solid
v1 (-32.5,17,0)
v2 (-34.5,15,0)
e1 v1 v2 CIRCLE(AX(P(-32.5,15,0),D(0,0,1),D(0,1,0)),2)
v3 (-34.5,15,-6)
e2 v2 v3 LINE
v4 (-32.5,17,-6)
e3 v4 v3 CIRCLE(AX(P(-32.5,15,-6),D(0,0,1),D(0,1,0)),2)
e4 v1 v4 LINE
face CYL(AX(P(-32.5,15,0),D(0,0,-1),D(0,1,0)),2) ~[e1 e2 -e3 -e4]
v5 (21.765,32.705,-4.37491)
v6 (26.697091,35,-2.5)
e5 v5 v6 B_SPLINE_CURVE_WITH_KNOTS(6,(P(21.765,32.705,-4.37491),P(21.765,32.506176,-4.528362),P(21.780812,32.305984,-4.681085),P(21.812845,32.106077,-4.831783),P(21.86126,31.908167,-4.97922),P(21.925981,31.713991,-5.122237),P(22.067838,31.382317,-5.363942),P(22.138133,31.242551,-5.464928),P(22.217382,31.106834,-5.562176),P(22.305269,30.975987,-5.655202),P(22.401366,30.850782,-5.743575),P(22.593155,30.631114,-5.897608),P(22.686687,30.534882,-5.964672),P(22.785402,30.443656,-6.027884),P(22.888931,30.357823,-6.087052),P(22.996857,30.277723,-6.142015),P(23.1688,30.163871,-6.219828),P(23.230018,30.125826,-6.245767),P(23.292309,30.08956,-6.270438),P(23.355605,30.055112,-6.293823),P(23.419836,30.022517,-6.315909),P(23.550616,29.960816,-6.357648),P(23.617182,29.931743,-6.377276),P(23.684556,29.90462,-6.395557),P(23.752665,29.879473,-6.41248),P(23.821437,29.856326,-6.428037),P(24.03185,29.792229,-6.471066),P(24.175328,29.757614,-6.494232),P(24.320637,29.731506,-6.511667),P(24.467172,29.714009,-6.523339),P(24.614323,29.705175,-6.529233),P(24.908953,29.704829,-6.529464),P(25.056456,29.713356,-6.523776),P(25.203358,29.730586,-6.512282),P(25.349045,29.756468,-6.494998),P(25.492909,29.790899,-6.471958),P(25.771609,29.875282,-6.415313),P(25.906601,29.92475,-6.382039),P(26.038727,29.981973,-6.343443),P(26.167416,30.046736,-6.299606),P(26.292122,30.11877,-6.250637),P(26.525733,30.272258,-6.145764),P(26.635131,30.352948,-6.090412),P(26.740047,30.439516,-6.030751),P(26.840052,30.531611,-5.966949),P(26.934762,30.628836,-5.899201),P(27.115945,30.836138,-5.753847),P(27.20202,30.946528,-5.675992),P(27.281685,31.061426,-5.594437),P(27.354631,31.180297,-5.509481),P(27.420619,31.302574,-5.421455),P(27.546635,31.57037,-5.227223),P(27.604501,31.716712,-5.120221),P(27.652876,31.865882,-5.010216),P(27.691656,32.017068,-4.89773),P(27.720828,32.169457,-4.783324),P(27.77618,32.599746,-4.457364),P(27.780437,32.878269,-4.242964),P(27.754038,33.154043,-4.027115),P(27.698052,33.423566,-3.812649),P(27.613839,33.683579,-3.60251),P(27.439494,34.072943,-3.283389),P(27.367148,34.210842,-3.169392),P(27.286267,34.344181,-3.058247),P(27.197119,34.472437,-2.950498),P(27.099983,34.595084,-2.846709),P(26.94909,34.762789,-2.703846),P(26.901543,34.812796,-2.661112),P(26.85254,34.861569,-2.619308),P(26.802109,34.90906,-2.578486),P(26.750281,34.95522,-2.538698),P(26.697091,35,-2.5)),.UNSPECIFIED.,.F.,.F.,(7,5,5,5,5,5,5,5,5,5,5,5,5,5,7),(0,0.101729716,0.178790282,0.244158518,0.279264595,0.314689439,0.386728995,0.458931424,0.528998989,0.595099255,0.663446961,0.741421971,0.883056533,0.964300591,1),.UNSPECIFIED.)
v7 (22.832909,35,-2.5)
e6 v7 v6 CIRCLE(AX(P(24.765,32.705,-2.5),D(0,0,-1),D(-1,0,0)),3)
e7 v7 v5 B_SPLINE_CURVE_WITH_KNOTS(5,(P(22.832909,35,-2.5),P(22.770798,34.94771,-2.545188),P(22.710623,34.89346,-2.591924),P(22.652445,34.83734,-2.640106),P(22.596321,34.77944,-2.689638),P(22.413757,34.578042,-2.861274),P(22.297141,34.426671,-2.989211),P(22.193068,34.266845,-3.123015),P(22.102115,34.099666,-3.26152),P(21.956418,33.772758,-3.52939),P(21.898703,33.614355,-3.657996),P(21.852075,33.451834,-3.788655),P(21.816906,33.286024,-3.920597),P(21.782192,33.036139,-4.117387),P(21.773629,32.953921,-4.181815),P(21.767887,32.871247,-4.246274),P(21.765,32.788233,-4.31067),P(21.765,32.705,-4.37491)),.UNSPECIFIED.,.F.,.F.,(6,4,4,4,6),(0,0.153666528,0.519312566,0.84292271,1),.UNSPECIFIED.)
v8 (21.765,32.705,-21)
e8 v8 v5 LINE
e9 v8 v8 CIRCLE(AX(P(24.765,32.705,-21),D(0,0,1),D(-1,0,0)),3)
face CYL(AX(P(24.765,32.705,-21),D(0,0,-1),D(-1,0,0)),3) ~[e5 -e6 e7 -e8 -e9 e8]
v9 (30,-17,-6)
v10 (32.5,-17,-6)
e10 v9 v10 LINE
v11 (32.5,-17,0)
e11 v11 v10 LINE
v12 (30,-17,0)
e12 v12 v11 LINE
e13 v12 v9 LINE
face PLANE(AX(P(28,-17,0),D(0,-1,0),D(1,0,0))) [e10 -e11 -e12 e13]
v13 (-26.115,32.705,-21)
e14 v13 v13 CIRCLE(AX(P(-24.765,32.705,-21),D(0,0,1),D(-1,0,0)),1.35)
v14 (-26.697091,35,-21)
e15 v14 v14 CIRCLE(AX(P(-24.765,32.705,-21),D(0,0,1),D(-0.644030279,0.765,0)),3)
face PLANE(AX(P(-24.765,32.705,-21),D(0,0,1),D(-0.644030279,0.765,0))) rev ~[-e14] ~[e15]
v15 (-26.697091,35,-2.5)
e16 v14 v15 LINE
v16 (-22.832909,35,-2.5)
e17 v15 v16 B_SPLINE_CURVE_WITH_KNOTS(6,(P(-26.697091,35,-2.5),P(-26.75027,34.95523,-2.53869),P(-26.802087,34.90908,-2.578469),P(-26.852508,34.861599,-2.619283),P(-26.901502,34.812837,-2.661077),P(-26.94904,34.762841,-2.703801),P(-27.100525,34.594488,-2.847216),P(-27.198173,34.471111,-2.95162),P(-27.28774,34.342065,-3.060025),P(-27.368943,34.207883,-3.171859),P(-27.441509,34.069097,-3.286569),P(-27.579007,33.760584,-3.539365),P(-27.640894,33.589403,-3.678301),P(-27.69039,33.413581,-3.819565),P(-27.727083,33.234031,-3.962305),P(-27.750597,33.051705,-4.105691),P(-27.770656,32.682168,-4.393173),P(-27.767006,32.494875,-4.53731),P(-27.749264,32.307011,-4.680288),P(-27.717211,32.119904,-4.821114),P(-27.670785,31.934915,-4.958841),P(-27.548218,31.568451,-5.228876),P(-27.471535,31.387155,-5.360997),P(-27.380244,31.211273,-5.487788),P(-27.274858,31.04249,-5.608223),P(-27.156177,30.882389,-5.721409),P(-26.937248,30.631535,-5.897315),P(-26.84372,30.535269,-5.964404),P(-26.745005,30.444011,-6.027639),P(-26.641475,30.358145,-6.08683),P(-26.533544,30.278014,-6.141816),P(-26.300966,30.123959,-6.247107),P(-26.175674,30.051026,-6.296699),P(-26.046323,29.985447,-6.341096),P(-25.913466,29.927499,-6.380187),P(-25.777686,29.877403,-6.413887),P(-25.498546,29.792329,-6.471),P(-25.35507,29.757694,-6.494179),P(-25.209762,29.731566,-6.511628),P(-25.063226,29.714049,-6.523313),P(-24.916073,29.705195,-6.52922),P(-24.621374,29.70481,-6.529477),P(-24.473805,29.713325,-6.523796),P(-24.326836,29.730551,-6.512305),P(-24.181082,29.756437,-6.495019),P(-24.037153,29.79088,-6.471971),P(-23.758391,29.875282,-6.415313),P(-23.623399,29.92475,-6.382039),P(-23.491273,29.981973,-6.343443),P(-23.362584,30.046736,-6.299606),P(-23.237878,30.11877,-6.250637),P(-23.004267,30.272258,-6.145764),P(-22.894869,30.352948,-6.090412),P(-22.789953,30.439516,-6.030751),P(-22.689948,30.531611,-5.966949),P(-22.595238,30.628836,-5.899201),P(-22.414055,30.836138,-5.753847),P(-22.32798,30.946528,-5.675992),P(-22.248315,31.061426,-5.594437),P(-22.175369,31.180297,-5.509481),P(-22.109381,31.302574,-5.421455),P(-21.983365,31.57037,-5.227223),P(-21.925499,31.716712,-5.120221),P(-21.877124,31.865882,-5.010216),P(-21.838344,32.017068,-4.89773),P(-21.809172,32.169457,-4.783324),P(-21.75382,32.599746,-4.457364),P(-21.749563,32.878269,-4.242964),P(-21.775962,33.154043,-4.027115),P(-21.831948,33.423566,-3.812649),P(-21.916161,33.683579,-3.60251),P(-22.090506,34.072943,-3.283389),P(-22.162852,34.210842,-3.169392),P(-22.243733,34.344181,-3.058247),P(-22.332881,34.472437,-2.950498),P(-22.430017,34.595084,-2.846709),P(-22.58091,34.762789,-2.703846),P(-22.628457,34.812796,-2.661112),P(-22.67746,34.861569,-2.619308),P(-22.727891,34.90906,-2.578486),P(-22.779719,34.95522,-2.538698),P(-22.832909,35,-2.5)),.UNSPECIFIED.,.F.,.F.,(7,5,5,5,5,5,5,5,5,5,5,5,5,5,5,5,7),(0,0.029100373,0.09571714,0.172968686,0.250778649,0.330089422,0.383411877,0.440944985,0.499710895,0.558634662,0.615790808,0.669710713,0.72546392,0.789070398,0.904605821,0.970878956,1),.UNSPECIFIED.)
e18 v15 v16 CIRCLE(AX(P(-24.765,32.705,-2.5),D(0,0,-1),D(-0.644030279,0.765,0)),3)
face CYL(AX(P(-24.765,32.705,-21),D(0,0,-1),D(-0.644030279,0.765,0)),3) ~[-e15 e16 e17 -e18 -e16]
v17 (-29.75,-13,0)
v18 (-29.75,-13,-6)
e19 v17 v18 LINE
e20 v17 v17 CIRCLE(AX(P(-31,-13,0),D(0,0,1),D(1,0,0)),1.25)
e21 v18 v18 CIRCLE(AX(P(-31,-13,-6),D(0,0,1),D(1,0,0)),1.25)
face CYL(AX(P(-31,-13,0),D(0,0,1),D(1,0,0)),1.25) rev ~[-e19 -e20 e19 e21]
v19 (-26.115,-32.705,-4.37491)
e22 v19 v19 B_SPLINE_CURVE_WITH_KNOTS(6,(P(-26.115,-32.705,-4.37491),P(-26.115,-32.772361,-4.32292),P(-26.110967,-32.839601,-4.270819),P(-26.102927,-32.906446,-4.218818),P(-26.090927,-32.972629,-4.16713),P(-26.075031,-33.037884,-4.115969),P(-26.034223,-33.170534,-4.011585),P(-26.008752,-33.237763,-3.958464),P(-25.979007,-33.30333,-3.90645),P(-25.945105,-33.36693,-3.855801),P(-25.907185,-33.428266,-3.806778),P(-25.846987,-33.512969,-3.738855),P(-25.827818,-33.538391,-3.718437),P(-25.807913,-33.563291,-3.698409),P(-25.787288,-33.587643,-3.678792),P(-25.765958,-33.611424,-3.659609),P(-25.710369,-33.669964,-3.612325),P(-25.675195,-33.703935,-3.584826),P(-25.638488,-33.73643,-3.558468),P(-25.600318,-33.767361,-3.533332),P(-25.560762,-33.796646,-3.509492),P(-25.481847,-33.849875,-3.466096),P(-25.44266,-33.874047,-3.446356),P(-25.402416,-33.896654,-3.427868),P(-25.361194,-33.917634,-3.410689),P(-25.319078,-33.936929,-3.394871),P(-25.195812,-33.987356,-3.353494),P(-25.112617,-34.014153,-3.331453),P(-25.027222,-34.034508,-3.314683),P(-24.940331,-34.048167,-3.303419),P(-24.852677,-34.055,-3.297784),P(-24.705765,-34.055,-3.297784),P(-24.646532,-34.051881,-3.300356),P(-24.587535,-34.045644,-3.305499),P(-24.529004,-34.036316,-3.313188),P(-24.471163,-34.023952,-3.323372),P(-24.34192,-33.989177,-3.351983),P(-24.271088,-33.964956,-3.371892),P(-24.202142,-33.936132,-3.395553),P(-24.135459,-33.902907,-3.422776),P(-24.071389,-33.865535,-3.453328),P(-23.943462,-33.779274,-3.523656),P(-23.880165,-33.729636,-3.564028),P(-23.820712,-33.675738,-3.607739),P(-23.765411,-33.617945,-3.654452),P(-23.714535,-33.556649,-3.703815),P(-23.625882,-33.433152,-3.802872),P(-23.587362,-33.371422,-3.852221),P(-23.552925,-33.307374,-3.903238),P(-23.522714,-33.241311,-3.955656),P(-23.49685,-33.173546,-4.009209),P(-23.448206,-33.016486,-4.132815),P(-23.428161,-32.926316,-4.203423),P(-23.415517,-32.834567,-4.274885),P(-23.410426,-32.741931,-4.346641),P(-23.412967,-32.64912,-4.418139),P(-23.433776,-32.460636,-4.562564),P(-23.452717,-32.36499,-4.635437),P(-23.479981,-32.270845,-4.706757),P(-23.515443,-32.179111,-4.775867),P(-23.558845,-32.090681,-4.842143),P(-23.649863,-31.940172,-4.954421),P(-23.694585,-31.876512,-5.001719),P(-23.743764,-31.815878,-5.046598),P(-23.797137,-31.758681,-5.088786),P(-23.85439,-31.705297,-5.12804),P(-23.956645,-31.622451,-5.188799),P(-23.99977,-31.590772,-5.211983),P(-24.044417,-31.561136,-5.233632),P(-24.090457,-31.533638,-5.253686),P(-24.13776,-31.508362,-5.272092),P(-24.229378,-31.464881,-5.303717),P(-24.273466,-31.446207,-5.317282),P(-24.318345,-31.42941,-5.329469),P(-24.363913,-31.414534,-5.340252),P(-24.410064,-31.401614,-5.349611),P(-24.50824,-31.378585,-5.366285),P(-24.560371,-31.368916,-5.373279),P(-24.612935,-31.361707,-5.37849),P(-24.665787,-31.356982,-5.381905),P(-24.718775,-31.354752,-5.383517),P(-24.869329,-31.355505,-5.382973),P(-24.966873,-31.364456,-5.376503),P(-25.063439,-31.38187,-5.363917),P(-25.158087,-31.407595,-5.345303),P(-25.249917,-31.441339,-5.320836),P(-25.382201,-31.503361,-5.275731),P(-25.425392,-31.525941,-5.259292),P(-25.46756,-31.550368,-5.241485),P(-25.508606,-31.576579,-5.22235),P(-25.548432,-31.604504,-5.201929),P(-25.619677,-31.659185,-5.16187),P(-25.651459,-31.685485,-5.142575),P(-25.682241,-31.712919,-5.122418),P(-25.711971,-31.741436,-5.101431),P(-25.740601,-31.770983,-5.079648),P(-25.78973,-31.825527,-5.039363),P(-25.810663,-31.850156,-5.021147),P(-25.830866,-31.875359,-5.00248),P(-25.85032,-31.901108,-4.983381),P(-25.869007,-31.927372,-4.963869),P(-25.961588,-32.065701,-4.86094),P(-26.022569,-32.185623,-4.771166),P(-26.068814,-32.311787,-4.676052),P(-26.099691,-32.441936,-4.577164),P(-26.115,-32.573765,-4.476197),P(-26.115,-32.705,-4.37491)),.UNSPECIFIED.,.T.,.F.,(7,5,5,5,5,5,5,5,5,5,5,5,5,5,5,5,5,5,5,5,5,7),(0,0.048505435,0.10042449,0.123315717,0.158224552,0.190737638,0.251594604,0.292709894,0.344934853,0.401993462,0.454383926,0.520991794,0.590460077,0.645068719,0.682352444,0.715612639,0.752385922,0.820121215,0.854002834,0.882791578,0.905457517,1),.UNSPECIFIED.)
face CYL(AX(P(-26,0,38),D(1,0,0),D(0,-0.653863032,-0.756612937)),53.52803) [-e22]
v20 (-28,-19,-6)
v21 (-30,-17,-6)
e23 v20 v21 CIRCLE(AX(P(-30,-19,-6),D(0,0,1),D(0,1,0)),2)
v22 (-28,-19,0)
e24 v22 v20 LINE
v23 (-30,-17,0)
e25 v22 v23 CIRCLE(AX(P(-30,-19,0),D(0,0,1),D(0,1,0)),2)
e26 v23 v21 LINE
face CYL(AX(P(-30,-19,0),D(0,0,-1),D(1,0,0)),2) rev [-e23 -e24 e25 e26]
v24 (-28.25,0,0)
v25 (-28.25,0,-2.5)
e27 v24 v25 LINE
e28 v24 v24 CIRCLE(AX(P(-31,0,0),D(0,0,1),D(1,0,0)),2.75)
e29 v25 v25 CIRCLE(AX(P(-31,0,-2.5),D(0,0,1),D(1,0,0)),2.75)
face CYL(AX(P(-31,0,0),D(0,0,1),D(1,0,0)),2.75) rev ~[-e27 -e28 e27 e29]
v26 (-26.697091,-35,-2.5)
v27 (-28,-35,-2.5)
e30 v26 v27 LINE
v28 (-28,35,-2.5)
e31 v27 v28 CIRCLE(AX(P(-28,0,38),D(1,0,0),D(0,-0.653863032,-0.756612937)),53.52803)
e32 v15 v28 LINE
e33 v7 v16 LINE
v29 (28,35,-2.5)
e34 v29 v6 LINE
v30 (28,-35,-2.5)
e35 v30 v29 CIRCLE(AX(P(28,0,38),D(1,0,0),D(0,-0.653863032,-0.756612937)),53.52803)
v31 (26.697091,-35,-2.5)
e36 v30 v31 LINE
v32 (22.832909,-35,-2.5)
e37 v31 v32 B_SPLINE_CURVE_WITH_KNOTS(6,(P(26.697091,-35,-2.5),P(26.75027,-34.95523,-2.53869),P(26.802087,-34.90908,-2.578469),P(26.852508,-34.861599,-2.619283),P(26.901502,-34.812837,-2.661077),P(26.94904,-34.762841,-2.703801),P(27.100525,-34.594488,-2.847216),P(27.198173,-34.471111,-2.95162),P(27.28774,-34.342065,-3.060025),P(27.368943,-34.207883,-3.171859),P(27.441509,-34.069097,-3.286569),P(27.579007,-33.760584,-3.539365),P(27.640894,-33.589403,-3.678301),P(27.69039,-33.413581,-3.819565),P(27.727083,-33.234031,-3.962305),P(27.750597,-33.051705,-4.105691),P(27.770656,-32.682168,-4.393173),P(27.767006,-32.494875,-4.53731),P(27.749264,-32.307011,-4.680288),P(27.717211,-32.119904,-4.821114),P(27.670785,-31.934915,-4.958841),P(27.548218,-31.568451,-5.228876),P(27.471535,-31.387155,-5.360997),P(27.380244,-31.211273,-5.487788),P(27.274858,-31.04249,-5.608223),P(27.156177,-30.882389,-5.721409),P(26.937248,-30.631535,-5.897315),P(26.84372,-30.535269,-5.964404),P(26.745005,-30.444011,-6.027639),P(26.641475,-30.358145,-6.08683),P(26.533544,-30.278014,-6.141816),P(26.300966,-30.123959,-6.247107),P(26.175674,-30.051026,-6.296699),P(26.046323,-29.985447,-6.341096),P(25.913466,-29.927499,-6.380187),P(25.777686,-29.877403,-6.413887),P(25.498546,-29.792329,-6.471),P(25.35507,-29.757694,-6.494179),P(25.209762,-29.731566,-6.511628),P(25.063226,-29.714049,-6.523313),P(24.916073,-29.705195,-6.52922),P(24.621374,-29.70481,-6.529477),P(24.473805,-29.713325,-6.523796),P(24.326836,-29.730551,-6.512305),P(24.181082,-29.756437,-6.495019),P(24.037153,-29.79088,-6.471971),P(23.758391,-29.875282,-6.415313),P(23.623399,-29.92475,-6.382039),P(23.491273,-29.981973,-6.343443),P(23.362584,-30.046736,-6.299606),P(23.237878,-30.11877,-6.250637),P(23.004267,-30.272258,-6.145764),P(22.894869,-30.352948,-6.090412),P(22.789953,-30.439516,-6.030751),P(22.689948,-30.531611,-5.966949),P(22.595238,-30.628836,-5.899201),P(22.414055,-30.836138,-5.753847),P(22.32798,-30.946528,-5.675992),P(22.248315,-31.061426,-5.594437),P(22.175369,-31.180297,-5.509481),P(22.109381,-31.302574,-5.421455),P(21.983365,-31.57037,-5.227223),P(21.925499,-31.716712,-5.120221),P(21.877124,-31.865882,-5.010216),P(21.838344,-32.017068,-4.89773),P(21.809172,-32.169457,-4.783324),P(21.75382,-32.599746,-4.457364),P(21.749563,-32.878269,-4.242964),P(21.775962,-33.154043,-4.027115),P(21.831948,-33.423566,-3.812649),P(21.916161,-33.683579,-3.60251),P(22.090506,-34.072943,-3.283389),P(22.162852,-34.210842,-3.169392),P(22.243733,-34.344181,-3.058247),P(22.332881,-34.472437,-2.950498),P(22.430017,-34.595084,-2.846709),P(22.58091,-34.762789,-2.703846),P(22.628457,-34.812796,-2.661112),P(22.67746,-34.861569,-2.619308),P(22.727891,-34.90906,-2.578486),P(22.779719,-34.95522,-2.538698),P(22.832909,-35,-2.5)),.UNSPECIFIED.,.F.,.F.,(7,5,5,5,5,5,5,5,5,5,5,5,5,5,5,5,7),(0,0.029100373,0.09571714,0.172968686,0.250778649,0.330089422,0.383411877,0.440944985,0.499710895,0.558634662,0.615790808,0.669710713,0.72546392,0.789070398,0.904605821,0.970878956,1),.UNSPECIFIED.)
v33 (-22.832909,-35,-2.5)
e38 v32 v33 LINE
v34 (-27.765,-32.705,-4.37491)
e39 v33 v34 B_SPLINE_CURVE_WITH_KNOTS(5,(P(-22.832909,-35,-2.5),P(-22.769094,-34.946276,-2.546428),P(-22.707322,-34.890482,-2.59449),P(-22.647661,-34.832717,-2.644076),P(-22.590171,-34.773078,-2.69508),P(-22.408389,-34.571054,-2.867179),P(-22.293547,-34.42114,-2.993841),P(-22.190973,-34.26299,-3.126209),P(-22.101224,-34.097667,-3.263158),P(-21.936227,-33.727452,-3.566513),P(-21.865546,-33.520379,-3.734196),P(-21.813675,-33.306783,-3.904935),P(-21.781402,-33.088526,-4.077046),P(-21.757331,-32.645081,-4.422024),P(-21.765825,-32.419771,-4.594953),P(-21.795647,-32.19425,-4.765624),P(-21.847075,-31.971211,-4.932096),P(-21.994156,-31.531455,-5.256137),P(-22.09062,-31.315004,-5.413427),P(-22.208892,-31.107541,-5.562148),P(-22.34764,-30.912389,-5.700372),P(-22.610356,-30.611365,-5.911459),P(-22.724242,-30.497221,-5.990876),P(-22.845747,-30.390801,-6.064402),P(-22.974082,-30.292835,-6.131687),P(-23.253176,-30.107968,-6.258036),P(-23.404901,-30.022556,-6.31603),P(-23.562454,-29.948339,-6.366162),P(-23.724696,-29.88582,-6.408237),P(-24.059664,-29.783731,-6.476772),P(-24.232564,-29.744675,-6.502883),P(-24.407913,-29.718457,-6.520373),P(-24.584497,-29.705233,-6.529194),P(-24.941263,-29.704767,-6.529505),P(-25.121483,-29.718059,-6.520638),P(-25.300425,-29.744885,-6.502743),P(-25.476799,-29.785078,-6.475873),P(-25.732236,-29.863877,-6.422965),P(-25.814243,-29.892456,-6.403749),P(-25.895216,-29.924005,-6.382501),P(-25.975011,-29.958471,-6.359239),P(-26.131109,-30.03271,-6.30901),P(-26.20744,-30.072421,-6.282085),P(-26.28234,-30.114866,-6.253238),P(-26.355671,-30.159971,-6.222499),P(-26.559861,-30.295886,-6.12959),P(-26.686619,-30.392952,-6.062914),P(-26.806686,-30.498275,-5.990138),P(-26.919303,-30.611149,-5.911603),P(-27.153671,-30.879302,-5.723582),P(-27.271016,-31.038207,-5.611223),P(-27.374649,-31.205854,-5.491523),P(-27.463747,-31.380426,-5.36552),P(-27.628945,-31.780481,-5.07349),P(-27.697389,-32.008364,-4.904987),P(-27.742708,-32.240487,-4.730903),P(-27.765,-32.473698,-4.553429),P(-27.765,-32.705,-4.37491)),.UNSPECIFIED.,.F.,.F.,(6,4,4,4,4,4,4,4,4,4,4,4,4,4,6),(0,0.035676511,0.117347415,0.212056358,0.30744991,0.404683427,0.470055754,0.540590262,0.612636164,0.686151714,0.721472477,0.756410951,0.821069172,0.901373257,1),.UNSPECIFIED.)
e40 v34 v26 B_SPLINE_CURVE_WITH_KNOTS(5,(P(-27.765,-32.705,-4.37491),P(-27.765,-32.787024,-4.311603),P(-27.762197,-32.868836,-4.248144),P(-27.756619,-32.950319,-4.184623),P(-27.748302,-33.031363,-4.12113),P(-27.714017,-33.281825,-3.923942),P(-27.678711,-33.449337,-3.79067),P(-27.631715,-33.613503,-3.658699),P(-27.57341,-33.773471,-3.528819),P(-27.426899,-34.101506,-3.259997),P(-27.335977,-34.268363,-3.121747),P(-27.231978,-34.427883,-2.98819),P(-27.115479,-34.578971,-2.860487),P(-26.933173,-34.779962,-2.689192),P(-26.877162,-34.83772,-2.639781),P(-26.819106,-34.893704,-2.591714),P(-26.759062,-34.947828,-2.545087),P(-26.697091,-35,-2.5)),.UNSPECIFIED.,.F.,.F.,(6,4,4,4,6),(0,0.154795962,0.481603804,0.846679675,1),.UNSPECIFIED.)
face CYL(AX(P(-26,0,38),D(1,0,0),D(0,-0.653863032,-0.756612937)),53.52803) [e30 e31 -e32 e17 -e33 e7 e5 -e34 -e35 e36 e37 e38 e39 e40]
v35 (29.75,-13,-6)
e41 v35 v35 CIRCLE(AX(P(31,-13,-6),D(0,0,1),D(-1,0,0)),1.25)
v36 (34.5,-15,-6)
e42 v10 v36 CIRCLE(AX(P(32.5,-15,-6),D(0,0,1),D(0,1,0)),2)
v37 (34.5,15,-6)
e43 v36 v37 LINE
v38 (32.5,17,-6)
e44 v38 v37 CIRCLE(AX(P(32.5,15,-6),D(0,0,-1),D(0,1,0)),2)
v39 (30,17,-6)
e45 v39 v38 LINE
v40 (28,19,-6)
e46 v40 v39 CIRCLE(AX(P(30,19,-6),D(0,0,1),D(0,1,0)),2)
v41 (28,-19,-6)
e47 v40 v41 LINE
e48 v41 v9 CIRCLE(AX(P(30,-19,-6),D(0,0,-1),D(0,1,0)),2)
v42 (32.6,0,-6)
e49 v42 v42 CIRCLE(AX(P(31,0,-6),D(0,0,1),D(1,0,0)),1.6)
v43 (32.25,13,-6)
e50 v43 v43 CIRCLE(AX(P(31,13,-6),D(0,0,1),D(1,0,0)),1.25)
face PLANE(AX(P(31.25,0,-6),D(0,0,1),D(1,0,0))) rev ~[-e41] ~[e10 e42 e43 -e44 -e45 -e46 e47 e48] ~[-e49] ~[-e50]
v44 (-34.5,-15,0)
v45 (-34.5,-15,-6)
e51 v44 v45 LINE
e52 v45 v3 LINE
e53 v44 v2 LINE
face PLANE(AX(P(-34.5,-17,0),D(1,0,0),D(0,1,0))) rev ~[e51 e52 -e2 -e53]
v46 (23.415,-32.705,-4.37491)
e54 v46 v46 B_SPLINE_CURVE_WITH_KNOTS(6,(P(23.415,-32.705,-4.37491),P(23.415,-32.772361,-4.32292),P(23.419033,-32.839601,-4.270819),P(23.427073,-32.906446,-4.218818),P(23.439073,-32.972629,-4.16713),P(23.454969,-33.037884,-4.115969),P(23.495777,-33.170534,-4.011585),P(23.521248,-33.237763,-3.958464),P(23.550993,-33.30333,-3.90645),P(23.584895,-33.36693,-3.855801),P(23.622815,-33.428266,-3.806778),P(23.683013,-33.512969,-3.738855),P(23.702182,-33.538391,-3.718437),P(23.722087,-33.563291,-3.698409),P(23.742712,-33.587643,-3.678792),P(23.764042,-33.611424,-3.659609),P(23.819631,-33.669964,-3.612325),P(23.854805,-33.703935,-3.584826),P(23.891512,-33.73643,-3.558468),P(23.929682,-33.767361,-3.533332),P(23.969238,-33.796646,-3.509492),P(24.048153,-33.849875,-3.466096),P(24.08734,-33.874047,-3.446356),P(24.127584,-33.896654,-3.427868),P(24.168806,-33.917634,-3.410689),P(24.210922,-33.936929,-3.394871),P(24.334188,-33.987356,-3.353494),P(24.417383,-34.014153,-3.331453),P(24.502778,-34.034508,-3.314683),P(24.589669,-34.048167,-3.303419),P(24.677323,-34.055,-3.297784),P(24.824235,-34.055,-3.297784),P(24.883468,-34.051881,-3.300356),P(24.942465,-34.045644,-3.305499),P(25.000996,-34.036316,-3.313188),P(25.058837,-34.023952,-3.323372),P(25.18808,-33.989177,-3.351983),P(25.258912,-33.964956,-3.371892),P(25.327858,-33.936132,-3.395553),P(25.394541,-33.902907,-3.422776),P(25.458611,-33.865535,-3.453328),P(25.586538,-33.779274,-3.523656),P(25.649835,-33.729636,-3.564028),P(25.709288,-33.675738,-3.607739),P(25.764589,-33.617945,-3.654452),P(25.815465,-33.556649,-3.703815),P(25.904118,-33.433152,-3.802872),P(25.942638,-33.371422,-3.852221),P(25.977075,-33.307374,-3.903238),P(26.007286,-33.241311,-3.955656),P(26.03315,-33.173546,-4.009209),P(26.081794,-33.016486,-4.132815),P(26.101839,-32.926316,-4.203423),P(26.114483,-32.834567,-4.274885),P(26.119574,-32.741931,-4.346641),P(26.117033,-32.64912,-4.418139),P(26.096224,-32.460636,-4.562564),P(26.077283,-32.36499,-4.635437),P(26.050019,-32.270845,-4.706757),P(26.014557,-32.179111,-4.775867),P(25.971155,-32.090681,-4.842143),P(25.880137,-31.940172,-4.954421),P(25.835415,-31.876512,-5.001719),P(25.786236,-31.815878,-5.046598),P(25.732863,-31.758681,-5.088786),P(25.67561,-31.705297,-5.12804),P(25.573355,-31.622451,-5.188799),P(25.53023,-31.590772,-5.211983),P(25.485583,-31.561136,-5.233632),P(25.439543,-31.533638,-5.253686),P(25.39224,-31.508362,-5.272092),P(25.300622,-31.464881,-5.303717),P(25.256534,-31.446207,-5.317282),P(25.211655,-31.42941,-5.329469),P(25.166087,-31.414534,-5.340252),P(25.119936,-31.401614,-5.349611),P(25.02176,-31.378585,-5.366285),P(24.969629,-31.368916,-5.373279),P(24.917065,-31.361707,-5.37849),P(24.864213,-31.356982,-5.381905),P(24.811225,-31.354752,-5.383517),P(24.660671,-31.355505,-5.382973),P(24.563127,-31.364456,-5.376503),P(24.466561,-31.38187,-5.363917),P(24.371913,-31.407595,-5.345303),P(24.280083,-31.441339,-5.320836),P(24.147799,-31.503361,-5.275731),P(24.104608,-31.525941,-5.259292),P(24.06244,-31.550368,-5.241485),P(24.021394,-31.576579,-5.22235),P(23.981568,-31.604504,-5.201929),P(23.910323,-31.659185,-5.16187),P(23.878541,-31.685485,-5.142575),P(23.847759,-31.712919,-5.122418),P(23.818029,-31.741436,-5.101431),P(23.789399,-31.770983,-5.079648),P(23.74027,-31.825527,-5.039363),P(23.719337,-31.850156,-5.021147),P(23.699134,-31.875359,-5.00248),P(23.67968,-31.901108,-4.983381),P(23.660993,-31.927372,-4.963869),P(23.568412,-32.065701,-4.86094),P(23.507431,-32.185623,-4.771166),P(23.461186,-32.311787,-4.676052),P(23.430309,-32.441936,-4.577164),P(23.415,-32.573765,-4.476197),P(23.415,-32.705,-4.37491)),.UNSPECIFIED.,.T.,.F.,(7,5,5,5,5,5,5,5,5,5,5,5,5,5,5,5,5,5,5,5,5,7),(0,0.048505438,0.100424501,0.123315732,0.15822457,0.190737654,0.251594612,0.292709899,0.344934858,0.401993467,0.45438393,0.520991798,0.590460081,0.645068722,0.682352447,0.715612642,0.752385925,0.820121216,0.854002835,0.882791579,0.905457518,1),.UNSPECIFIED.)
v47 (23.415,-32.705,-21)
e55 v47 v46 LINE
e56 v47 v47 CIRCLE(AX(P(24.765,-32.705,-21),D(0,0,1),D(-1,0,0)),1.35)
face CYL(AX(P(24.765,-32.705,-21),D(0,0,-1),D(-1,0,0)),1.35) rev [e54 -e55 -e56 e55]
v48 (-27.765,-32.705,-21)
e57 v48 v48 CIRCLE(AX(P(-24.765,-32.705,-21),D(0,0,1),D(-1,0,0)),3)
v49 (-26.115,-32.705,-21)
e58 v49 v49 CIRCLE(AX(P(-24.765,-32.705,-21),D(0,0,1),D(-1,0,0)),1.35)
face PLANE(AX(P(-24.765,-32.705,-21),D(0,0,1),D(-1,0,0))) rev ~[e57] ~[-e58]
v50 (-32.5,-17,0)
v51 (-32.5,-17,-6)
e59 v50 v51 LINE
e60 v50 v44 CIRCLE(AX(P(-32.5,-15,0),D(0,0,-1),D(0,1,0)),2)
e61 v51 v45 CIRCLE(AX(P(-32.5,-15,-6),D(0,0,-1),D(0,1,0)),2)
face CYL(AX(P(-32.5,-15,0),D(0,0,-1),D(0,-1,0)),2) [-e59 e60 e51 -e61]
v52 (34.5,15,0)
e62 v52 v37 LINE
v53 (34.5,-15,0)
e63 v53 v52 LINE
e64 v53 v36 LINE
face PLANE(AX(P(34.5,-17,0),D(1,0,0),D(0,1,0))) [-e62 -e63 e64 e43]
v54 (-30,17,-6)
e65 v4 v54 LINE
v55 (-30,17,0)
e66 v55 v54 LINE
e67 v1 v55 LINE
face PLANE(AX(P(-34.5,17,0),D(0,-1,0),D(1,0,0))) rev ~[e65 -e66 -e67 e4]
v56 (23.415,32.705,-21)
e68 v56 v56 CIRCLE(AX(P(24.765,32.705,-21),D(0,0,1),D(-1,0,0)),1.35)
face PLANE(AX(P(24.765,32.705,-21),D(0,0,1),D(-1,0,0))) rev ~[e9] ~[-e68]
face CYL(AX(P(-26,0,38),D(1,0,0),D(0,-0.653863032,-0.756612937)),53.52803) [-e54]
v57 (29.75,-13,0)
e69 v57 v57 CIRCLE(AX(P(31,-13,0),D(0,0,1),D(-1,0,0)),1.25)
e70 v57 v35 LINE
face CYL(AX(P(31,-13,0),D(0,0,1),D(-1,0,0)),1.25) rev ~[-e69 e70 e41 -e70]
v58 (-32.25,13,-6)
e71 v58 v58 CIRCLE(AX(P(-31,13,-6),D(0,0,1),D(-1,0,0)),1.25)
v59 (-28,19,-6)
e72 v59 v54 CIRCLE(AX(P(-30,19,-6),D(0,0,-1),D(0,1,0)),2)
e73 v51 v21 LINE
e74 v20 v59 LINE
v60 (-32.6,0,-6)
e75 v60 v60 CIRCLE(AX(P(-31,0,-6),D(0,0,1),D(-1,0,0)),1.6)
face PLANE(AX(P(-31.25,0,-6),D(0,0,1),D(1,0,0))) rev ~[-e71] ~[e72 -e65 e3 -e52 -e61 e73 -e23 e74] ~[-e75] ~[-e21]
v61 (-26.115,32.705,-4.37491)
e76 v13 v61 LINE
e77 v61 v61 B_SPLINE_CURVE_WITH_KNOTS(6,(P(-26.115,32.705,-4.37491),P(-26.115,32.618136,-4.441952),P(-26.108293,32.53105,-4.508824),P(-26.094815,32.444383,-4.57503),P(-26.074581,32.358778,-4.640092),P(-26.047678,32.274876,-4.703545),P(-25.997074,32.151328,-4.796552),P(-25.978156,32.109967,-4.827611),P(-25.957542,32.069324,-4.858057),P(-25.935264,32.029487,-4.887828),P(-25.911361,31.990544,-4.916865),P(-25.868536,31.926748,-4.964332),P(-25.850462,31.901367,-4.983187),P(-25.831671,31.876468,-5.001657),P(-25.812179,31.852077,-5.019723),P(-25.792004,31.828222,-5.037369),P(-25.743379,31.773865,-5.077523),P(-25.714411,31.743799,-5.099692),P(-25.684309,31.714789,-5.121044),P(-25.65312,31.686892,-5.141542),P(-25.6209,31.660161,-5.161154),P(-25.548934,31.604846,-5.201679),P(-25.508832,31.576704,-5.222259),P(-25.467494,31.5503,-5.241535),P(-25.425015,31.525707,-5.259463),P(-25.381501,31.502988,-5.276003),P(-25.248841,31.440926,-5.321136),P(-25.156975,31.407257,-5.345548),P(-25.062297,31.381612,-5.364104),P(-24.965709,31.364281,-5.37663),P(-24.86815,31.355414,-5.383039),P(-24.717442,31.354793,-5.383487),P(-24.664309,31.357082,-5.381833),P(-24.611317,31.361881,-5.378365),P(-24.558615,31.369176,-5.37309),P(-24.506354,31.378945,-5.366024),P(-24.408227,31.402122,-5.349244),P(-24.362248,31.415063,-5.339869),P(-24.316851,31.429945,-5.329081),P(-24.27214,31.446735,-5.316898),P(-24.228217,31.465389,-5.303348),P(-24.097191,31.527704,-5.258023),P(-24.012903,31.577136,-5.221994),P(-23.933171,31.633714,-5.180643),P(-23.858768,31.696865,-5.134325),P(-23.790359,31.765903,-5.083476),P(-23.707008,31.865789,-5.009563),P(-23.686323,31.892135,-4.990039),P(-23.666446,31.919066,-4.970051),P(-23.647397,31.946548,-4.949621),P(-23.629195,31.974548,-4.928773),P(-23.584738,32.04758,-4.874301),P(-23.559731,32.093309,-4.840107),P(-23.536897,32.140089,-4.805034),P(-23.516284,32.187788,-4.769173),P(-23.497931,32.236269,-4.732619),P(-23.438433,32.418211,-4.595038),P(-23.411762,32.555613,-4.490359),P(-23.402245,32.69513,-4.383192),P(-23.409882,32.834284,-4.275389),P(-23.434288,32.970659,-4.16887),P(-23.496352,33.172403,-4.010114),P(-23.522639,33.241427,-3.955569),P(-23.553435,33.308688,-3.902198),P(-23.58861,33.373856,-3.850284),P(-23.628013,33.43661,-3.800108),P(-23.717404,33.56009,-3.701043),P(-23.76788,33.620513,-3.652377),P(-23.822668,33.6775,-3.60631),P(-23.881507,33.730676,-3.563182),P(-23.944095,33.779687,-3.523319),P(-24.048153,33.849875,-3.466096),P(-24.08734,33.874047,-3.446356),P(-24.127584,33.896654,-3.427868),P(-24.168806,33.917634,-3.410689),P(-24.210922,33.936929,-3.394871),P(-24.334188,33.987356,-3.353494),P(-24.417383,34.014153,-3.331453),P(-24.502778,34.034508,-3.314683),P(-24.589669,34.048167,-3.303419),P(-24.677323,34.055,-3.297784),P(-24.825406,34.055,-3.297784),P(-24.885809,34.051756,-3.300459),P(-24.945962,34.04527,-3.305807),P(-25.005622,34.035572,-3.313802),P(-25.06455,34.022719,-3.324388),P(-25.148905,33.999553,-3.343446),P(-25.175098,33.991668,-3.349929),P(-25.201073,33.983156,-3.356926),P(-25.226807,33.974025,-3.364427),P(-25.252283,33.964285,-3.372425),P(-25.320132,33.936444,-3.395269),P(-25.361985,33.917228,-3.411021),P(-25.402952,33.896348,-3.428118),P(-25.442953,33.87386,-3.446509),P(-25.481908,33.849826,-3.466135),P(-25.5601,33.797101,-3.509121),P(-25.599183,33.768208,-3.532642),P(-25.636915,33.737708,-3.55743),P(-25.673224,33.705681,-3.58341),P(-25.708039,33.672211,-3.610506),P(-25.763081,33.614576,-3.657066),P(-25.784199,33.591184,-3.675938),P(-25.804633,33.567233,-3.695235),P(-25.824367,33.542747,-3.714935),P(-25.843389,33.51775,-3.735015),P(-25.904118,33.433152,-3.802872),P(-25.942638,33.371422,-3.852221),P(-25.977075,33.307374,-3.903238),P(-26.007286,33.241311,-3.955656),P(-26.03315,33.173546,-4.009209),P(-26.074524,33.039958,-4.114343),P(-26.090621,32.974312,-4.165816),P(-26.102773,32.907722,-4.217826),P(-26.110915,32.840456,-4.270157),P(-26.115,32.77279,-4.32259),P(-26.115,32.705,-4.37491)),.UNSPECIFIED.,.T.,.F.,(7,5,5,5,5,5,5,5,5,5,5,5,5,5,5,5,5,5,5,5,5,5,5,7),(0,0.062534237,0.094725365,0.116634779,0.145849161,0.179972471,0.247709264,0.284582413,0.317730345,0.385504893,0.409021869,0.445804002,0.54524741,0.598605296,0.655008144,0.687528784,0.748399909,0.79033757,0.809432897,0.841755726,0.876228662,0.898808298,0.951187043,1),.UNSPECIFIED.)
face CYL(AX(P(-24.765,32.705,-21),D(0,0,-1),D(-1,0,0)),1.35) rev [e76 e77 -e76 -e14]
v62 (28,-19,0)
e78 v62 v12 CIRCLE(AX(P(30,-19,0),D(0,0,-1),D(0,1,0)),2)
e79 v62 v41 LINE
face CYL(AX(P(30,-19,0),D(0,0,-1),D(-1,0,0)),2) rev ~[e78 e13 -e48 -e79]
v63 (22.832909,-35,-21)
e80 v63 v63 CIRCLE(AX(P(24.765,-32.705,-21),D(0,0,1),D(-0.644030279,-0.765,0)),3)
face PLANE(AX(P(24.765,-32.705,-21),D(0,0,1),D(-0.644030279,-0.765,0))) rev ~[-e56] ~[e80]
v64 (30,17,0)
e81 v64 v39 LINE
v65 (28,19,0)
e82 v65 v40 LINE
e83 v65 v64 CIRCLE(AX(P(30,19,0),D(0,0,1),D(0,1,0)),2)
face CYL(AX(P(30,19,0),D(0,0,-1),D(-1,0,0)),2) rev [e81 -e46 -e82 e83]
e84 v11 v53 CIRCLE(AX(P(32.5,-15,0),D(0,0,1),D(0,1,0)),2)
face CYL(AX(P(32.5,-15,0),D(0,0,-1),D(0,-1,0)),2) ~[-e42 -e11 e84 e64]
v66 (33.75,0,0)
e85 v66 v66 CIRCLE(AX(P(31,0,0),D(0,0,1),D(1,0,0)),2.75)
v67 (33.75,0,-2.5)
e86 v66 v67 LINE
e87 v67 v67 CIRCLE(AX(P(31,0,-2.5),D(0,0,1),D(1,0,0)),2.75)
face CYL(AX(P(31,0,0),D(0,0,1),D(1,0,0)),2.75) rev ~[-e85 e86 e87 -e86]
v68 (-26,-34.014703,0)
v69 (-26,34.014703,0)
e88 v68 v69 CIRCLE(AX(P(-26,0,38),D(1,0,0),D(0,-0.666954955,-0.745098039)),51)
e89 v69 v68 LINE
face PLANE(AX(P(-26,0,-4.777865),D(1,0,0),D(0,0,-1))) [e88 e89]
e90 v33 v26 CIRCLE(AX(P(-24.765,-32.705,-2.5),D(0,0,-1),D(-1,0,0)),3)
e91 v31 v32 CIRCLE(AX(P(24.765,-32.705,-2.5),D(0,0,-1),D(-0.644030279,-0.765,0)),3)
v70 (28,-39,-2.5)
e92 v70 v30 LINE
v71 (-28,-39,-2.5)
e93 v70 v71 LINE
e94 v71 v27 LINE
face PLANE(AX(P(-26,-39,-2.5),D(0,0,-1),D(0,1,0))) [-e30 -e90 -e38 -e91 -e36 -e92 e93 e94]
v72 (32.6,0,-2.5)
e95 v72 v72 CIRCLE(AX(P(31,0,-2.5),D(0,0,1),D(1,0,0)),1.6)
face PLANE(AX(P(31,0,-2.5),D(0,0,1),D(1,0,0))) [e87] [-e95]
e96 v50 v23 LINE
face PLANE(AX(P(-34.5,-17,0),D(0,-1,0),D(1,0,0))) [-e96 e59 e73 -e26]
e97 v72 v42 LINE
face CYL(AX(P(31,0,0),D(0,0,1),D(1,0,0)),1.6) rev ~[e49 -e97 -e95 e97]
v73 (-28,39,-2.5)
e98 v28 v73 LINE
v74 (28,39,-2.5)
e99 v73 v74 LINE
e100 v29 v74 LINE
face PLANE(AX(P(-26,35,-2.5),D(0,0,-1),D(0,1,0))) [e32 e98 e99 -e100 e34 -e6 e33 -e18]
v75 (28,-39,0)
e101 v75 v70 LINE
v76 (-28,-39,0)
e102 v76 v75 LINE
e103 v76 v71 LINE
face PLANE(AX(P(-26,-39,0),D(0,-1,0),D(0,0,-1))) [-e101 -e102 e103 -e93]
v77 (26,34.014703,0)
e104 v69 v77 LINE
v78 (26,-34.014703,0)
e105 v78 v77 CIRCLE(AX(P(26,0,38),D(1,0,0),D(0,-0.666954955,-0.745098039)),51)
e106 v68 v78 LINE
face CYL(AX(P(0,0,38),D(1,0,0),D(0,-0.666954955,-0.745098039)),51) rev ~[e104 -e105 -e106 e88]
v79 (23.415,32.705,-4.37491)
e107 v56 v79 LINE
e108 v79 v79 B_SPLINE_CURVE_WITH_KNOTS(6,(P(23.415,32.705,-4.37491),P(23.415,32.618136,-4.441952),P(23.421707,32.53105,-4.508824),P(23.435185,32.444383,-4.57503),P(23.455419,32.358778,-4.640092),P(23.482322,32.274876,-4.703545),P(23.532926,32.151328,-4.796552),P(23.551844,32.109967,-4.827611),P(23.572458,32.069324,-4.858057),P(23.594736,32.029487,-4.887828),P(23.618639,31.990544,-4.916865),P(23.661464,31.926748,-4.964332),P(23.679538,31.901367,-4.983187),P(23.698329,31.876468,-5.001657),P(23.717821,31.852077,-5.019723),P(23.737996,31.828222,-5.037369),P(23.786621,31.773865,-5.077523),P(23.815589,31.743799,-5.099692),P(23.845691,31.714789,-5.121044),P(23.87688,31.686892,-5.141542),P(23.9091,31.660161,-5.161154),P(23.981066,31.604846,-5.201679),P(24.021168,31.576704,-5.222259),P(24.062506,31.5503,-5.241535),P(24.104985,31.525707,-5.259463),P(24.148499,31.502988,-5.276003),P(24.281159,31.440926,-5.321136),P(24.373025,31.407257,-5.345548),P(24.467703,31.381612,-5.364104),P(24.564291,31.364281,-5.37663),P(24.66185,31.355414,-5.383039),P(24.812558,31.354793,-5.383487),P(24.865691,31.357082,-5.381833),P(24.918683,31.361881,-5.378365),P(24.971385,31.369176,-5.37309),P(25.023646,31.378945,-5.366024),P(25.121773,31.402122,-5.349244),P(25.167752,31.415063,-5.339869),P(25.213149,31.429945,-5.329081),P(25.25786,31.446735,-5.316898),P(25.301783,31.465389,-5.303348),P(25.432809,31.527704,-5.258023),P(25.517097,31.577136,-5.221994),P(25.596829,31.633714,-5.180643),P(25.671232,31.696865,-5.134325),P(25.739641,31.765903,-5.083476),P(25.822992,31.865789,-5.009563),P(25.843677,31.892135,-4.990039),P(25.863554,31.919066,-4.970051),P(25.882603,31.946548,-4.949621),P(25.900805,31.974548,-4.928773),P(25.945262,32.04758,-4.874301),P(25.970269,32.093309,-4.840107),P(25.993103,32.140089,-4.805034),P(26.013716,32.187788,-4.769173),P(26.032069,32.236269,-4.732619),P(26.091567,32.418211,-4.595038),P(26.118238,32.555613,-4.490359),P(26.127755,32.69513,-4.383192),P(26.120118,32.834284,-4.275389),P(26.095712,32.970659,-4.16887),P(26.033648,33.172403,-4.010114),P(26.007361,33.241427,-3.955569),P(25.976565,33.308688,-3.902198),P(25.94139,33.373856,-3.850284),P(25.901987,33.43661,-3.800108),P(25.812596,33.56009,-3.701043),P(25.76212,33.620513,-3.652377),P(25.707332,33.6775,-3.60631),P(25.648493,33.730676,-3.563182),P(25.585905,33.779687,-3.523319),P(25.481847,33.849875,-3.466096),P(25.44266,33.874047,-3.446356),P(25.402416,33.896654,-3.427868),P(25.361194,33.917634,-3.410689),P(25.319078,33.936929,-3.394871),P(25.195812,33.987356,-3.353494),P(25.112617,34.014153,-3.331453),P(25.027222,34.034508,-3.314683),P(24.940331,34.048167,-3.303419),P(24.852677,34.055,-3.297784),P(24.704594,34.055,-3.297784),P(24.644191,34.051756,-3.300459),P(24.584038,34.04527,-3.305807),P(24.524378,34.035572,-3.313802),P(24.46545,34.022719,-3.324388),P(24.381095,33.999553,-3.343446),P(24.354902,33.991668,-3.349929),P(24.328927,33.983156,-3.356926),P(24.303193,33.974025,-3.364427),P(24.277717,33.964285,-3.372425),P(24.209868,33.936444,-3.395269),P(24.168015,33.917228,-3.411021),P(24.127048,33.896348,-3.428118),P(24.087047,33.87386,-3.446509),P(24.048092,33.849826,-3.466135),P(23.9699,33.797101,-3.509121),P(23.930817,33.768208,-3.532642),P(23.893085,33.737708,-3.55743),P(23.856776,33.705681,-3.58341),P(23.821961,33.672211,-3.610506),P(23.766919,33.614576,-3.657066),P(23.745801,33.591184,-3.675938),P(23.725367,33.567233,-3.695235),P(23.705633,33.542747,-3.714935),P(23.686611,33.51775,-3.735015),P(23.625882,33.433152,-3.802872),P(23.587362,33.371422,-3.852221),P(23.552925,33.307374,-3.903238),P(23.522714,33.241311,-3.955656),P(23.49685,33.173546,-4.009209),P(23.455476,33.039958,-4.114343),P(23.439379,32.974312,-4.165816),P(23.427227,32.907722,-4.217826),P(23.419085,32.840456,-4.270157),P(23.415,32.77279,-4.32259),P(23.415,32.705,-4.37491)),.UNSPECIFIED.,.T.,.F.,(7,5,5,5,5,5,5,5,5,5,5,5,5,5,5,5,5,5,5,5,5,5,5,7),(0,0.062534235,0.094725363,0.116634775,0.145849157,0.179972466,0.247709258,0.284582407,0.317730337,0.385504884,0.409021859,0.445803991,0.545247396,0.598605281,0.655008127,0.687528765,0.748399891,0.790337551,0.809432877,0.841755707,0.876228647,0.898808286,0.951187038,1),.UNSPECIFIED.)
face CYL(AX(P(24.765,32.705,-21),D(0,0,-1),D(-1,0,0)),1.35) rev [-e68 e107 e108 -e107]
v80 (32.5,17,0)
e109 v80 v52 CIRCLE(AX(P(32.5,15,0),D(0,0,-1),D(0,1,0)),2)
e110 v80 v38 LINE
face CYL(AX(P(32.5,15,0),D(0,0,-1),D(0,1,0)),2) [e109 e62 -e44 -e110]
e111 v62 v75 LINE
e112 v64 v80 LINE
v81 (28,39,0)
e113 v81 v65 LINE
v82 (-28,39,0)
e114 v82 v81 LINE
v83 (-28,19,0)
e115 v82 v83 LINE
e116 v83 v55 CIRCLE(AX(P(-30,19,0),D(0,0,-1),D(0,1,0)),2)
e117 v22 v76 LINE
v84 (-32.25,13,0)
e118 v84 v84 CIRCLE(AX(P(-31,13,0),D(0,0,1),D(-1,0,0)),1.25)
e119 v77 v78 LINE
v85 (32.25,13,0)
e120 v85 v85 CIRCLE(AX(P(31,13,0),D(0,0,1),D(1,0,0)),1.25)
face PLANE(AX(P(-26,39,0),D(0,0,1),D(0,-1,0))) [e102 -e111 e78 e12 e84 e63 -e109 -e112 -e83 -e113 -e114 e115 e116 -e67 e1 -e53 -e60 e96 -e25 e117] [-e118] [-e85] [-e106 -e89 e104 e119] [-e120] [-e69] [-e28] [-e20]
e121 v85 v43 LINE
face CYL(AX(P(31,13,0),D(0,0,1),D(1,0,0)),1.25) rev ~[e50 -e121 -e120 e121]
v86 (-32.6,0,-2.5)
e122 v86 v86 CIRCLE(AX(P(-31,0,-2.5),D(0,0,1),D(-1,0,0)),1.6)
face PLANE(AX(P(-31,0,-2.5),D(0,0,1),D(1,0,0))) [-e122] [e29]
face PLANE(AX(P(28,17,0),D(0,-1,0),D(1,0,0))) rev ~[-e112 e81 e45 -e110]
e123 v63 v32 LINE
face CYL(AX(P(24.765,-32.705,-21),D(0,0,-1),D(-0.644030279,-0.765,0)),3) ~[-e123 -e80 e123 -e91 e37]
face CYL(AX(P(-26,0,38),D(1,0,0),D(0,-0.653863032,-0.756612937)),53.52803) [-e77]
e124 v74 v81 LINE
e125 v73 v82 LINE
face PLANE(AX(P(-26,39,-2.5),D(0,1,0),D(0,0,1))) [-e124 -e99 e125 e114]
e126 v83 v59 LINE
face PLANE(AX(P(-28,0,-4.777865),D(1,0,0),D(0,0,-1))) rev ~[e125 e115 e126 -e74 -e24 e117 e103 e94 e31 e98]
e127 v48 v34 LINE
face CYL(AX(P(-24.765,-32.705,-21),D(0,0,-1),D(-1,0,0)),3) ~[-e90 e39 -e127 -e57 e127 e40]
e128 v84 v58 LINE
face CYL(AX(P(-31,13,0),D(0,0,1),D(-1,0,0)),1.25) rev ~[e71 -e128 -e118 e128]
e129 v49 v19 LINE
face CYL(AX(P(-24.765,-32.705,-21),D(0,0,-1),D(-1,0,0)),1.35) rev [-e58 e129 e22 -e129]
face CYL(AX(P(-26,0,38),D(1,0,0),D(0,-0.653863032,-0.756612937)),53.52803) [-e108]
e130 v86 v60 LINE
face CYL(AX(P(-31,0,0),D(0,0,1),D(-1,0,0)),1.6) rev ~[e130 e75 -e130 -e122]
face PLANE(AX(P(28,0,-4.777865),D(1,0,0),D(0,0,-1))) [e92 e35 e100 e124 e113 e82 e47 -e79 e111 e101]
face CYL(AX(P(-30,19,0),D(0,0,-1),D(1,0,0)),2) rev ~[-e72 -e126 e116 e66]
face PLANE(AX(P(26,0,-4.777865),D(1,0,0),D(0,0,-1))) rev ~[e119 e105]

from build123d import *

# Parameters (mm, degrees)
EXTRUDE_1_DEPTH     = 26
EXTRUDE_START       = 2
EXTRUDE_2_DEPTH     = 2
EXTRUDE_3_DEPTH     = 2
SKETCH_7_W          = 6.5
SKETCH_7_H          = 34
SKETCH_7_R          = 1.6
SKETCH_7_R_2        = 1.25
EXTRUDE_4_DEPTH     = 6
FILLET_1_R          = 2
EXTRUDE_5_REACH     = 58.145
SKETCH_9_R          = 3
SKETCH_9_R_2        = 1.35
SKETCH_10_R         = 2.75
CUT_EXTRUDE_1_DEPTH = 2.5
CUT_EXTRUDE_4_DEPTH = 26


with BuildPart() as part:
    # 草图2 → 凸台-拉伸1 (new, symmetric)
    with BuildSketch(Plane(origin=(0, 0, 0), x_dir=(0, 0, -1), z_dir=(1, 0, 0))):
        with BuildLine():
            Line((0, 34.014702703), (0, 39))
            Line((0, 39), (2.5, 39))
            Line((2.5, 39), (2.5, 35))
            ThreePointArc((2.5, 35), (15.52803004, 0), (2.5, -35))
            Line((2.5, -35), (2.5, -39))
            Line((2.5, -39), (0, -39))
            Line((0, -39), (0, -34.014702703))
            ThreePointArc((0, -34.014702703), (13, 0), (0, 34.014702703))
        make_face()
    extrude(amount=EXTRUDE_1_DEPTH, both=True)

    # 草图3 → 凸台-拉伸2 (add)
    with BuildSketch(Plane(origin=(26, 0, 0), x_dir=(0, 0, -1), z_dir=(1, 0, 0)).offset(EXTRUDE_START)):
        with BuildLine():
            Line((0, 39), (0, -39))
            Line((0, -39), (2.5, -39))
            Line((2.5, -39), (2.5, -35))
            ThreePointArc((2.5, -35), (15.52803004, 0), (2.5, 35))
            Line((2.5, 35), (2.5, 39))
            Line((2.5, 39), (0, 39))
        make_face()
    extrude(amount=-EXTRUDE_2_DEPTH)

    # 草图4 → 凸台-拉伸3 (add)
    with BuildSketch(Plane.ZY.offset(26)):
        with BuildLine():
            Line((-2.5, 35), (-2.5, 39))
            Line((-2.5, 39), (0, 39))
            Line((0, 39), (0, -39))
            Line((0, -39), (-2.5, -39))
            Line((-2.5, -39), (-2.5, -35))
            ThreePointArc((-2.5, -35), (-15.52803004, 0), (-2.5, 35))
        make_face()
    extrude(amount=EXTRUDE_3_DEPTH)

    # 草图7 → 凸台-拉伸4 (add)
    # profile 1 of 2: a face of its own
    with BuildSketch(Plane.XY):
        with Locations((31.25, 0)):
            Rectangle(SKETCH_7_W, SKETCH_7_H)
        with Locations((31, 0)):
            Circle(SKETCH_7_R, mode=Mode.SUBTRACT)
        with Locations((31, 13)):
            Circle(SKETCH_7_R_2, mode=Mode.SUBTRACT)
        with Locations(Location((31, -13, 0), (0, 0, 180))):
            Circle(SKETCH_7_R_2, mode=Mode.SUBTRACT)
    # profile 2 of 2: a face of its own
    with BuildSketch(Plane.XY):
        with Locations((-31.25, 0)):
            Rectangle(SKETCH_7_W, SKETCH_7_H)
        with Locations((-31, -13)):
            Circle(SKETCH_7_R_2, mode=Mode.SUBTRACT)
        with Locations(Location((-31, 0, 0), (0, 0, 180))):
            Circle(SKETCH_7_R, mode=Mode.SUBTRACT)
        with Locations(Location((-31, 13, 0), (0, 0, 180))):
            Circle(SKETCH_7_R_2, mode=Mode.SUBTRACT)
    extrude(amount=-EXTRUDE_4_DEPTH)

    # 圆角1
    fillet_1_edges = [part.edges().sort_by_distance(p)[0] for p in [
        (28, -17, -3),
        (28, 17, -3),
        (34.5, 17, -3),
        (34.5, -17, -3),
        (-34.5, -17, -3),
        (-34.5, 17, -3),
        (-28, 17, -3),
        (-28, -17, -3),
    ]]
    fillet(fillet_1_edges, radius=FILLET_1_R)

    # 凸台-拉伸5: up to this face of the body (flat: up to its plane)
    extrude_5_end = Plane(part.part.faces().sort_by_distance((0, 37, -2.5))[0])
    # 草图9 → 凸台-拉伸5 (add, up to the picked face)
    with BuildSketch(Plane.XY.offset(-21), mode=Mode.PRIVATE) as extrude_5_sk1:
        with Locations(Location((-24.765, 32.705, 0), (0, 0, 130.093007985))):
            Circle(SKETCH_9_R)
        with Locations(Location((-24.765, 32.705, 0), (0, 0, 180))):
            Circle(SKETCH_9_R_2, mode=Mode.SUBTRACT)
    extrude_5_tool1 = split(extrude(extrude_5_sk1.sketch, amount=EXTRUDE_5_REACH, mode=Mode.PRIVATE), bisect_by=extrude_5_end, keep=Keep.BOTH, mode=Mode.PRIVATE)
    # 草图9 → 凸台-拉伸5 (add, up to the picked face)
    with BuildSketch(Plane.XY.offset(-21), mode=Mode.PRIVATE) as extrude_5_sk2:
        with Locations(Location((24.765, 32.705, 0), (0, 0, 180))):
            Circle(SKETCH_9_R)
        with Locations(Location((24.765, 32.705, 0), (0, 0, 180))):
            Circle(SKETCH_9_R_2, mode=Mode.SUBTRACT)
    extrude_5_tool2 = split(extrude(extrude_5_sk2.sketch, amount=EXTRUDE_5_REACH, mode=Mode.PRIVATE), bisect_by=extrude_5_end, keep=Keep.BOTH, mode=Mode.PRIVATE)
    # 草图9 → 凸台-拉伸5 (add, up to the picked face)
    with BuildSketch(Plane.XY.offset(-21), mode=Mode.PRIVATE) as extrude_5_sk3:
        with Locations(Location((24.765, -32.705, 0), (0, 0, 229.906992015))):
            Circle(SKETCH_9_R)
        with Locations(Location((24.765, -32.705, 0), (0, 0, 180))):
            Circle(SKETCH_9_R_2, mode=Mode.SUBTRACT)
    extrude_5_tool3 = split(extrude(extrude_5_sk3.sketch, amount=EXTRUDE_5_REACH, mode=Mode.PRIVATE), bisect_by=extrude_5_end, keep=Keep.BOTH, mode=Mode.PRIVATE)
    # 草图9 → 凸台-拉伸5 (add, up to the picked face)
    with BuildSketch(Plane.XY.offset(-21), mode=Mode.PRIVATE) as extrude_5_sk4:
        with Locations(Location((-24.765, -32.705, 0), (0, 0, 180))):
            Circle(SKETCH_9_R)
        with Locations(Location((-24.765, -32.705, 0), (0, 0, 180))):
            Circle(SKETCH_9_R_2, mode=Mode.SUBTRACT)
    extrude_5_tool4 = split(extrude(extrude_5_sk4.sketch, amount=EXTRUDE_5_REACH, mode=Mode.PRIVATE), bisect_by=extrude_5_end, keep=Keep.BOTH, mode=Mode.PRIVATE)
    add(extrude_5_tool1.solids().sort_by(Axis((-22.887557, 30.474912, -21), (0, 0, 1)))[0])
    add(extrude_5_tool2.solids().sort_by(Axis((27.680147, 32.705, -21), (0, 0, 1)))[0])
    add(extrude_5_tool3.solids().sort_by(Axis((26.642443, -30.474912, -21), (0, 0, 1)))[0])
    add(extrude_5_tool4.solids().sort_by(Axis((-21.849853, -32.705, -21), (0, 0, 1)))[0])

    # 草图10 → 切除-拉伸1 (cut)
    with BuildSketch(Plane.XY):
        with Locations((-31, 0)):
            Circle(SKETCH_10_R)
        with Locations((31, 0)):
            Circle(SKETCH_10_R)
    extrude(amount=-CUT_EXTRUDE_1_DEPTH, mode=Mode.SUBTRACT)

    # 草图12 → 切除-拉伸4 (cut, symmetric)
    with BuildSketch(Plane(origin=(0, 0, 0), x_dir=(0, 0, -1), z_dir=(1, 0, 0))):
        with BuildLine():
            Line((0, 34.014702703), (0, -34.014702703))
            ThreePointArc((0, -34.014702703), (13, 0), (0, 34.014702703))
        make_face()
    extrude(amount=CUT_EXTRUDE_4_DEPTH, both=True, mode=Mode.SUBTRACT)


solid = part.part
